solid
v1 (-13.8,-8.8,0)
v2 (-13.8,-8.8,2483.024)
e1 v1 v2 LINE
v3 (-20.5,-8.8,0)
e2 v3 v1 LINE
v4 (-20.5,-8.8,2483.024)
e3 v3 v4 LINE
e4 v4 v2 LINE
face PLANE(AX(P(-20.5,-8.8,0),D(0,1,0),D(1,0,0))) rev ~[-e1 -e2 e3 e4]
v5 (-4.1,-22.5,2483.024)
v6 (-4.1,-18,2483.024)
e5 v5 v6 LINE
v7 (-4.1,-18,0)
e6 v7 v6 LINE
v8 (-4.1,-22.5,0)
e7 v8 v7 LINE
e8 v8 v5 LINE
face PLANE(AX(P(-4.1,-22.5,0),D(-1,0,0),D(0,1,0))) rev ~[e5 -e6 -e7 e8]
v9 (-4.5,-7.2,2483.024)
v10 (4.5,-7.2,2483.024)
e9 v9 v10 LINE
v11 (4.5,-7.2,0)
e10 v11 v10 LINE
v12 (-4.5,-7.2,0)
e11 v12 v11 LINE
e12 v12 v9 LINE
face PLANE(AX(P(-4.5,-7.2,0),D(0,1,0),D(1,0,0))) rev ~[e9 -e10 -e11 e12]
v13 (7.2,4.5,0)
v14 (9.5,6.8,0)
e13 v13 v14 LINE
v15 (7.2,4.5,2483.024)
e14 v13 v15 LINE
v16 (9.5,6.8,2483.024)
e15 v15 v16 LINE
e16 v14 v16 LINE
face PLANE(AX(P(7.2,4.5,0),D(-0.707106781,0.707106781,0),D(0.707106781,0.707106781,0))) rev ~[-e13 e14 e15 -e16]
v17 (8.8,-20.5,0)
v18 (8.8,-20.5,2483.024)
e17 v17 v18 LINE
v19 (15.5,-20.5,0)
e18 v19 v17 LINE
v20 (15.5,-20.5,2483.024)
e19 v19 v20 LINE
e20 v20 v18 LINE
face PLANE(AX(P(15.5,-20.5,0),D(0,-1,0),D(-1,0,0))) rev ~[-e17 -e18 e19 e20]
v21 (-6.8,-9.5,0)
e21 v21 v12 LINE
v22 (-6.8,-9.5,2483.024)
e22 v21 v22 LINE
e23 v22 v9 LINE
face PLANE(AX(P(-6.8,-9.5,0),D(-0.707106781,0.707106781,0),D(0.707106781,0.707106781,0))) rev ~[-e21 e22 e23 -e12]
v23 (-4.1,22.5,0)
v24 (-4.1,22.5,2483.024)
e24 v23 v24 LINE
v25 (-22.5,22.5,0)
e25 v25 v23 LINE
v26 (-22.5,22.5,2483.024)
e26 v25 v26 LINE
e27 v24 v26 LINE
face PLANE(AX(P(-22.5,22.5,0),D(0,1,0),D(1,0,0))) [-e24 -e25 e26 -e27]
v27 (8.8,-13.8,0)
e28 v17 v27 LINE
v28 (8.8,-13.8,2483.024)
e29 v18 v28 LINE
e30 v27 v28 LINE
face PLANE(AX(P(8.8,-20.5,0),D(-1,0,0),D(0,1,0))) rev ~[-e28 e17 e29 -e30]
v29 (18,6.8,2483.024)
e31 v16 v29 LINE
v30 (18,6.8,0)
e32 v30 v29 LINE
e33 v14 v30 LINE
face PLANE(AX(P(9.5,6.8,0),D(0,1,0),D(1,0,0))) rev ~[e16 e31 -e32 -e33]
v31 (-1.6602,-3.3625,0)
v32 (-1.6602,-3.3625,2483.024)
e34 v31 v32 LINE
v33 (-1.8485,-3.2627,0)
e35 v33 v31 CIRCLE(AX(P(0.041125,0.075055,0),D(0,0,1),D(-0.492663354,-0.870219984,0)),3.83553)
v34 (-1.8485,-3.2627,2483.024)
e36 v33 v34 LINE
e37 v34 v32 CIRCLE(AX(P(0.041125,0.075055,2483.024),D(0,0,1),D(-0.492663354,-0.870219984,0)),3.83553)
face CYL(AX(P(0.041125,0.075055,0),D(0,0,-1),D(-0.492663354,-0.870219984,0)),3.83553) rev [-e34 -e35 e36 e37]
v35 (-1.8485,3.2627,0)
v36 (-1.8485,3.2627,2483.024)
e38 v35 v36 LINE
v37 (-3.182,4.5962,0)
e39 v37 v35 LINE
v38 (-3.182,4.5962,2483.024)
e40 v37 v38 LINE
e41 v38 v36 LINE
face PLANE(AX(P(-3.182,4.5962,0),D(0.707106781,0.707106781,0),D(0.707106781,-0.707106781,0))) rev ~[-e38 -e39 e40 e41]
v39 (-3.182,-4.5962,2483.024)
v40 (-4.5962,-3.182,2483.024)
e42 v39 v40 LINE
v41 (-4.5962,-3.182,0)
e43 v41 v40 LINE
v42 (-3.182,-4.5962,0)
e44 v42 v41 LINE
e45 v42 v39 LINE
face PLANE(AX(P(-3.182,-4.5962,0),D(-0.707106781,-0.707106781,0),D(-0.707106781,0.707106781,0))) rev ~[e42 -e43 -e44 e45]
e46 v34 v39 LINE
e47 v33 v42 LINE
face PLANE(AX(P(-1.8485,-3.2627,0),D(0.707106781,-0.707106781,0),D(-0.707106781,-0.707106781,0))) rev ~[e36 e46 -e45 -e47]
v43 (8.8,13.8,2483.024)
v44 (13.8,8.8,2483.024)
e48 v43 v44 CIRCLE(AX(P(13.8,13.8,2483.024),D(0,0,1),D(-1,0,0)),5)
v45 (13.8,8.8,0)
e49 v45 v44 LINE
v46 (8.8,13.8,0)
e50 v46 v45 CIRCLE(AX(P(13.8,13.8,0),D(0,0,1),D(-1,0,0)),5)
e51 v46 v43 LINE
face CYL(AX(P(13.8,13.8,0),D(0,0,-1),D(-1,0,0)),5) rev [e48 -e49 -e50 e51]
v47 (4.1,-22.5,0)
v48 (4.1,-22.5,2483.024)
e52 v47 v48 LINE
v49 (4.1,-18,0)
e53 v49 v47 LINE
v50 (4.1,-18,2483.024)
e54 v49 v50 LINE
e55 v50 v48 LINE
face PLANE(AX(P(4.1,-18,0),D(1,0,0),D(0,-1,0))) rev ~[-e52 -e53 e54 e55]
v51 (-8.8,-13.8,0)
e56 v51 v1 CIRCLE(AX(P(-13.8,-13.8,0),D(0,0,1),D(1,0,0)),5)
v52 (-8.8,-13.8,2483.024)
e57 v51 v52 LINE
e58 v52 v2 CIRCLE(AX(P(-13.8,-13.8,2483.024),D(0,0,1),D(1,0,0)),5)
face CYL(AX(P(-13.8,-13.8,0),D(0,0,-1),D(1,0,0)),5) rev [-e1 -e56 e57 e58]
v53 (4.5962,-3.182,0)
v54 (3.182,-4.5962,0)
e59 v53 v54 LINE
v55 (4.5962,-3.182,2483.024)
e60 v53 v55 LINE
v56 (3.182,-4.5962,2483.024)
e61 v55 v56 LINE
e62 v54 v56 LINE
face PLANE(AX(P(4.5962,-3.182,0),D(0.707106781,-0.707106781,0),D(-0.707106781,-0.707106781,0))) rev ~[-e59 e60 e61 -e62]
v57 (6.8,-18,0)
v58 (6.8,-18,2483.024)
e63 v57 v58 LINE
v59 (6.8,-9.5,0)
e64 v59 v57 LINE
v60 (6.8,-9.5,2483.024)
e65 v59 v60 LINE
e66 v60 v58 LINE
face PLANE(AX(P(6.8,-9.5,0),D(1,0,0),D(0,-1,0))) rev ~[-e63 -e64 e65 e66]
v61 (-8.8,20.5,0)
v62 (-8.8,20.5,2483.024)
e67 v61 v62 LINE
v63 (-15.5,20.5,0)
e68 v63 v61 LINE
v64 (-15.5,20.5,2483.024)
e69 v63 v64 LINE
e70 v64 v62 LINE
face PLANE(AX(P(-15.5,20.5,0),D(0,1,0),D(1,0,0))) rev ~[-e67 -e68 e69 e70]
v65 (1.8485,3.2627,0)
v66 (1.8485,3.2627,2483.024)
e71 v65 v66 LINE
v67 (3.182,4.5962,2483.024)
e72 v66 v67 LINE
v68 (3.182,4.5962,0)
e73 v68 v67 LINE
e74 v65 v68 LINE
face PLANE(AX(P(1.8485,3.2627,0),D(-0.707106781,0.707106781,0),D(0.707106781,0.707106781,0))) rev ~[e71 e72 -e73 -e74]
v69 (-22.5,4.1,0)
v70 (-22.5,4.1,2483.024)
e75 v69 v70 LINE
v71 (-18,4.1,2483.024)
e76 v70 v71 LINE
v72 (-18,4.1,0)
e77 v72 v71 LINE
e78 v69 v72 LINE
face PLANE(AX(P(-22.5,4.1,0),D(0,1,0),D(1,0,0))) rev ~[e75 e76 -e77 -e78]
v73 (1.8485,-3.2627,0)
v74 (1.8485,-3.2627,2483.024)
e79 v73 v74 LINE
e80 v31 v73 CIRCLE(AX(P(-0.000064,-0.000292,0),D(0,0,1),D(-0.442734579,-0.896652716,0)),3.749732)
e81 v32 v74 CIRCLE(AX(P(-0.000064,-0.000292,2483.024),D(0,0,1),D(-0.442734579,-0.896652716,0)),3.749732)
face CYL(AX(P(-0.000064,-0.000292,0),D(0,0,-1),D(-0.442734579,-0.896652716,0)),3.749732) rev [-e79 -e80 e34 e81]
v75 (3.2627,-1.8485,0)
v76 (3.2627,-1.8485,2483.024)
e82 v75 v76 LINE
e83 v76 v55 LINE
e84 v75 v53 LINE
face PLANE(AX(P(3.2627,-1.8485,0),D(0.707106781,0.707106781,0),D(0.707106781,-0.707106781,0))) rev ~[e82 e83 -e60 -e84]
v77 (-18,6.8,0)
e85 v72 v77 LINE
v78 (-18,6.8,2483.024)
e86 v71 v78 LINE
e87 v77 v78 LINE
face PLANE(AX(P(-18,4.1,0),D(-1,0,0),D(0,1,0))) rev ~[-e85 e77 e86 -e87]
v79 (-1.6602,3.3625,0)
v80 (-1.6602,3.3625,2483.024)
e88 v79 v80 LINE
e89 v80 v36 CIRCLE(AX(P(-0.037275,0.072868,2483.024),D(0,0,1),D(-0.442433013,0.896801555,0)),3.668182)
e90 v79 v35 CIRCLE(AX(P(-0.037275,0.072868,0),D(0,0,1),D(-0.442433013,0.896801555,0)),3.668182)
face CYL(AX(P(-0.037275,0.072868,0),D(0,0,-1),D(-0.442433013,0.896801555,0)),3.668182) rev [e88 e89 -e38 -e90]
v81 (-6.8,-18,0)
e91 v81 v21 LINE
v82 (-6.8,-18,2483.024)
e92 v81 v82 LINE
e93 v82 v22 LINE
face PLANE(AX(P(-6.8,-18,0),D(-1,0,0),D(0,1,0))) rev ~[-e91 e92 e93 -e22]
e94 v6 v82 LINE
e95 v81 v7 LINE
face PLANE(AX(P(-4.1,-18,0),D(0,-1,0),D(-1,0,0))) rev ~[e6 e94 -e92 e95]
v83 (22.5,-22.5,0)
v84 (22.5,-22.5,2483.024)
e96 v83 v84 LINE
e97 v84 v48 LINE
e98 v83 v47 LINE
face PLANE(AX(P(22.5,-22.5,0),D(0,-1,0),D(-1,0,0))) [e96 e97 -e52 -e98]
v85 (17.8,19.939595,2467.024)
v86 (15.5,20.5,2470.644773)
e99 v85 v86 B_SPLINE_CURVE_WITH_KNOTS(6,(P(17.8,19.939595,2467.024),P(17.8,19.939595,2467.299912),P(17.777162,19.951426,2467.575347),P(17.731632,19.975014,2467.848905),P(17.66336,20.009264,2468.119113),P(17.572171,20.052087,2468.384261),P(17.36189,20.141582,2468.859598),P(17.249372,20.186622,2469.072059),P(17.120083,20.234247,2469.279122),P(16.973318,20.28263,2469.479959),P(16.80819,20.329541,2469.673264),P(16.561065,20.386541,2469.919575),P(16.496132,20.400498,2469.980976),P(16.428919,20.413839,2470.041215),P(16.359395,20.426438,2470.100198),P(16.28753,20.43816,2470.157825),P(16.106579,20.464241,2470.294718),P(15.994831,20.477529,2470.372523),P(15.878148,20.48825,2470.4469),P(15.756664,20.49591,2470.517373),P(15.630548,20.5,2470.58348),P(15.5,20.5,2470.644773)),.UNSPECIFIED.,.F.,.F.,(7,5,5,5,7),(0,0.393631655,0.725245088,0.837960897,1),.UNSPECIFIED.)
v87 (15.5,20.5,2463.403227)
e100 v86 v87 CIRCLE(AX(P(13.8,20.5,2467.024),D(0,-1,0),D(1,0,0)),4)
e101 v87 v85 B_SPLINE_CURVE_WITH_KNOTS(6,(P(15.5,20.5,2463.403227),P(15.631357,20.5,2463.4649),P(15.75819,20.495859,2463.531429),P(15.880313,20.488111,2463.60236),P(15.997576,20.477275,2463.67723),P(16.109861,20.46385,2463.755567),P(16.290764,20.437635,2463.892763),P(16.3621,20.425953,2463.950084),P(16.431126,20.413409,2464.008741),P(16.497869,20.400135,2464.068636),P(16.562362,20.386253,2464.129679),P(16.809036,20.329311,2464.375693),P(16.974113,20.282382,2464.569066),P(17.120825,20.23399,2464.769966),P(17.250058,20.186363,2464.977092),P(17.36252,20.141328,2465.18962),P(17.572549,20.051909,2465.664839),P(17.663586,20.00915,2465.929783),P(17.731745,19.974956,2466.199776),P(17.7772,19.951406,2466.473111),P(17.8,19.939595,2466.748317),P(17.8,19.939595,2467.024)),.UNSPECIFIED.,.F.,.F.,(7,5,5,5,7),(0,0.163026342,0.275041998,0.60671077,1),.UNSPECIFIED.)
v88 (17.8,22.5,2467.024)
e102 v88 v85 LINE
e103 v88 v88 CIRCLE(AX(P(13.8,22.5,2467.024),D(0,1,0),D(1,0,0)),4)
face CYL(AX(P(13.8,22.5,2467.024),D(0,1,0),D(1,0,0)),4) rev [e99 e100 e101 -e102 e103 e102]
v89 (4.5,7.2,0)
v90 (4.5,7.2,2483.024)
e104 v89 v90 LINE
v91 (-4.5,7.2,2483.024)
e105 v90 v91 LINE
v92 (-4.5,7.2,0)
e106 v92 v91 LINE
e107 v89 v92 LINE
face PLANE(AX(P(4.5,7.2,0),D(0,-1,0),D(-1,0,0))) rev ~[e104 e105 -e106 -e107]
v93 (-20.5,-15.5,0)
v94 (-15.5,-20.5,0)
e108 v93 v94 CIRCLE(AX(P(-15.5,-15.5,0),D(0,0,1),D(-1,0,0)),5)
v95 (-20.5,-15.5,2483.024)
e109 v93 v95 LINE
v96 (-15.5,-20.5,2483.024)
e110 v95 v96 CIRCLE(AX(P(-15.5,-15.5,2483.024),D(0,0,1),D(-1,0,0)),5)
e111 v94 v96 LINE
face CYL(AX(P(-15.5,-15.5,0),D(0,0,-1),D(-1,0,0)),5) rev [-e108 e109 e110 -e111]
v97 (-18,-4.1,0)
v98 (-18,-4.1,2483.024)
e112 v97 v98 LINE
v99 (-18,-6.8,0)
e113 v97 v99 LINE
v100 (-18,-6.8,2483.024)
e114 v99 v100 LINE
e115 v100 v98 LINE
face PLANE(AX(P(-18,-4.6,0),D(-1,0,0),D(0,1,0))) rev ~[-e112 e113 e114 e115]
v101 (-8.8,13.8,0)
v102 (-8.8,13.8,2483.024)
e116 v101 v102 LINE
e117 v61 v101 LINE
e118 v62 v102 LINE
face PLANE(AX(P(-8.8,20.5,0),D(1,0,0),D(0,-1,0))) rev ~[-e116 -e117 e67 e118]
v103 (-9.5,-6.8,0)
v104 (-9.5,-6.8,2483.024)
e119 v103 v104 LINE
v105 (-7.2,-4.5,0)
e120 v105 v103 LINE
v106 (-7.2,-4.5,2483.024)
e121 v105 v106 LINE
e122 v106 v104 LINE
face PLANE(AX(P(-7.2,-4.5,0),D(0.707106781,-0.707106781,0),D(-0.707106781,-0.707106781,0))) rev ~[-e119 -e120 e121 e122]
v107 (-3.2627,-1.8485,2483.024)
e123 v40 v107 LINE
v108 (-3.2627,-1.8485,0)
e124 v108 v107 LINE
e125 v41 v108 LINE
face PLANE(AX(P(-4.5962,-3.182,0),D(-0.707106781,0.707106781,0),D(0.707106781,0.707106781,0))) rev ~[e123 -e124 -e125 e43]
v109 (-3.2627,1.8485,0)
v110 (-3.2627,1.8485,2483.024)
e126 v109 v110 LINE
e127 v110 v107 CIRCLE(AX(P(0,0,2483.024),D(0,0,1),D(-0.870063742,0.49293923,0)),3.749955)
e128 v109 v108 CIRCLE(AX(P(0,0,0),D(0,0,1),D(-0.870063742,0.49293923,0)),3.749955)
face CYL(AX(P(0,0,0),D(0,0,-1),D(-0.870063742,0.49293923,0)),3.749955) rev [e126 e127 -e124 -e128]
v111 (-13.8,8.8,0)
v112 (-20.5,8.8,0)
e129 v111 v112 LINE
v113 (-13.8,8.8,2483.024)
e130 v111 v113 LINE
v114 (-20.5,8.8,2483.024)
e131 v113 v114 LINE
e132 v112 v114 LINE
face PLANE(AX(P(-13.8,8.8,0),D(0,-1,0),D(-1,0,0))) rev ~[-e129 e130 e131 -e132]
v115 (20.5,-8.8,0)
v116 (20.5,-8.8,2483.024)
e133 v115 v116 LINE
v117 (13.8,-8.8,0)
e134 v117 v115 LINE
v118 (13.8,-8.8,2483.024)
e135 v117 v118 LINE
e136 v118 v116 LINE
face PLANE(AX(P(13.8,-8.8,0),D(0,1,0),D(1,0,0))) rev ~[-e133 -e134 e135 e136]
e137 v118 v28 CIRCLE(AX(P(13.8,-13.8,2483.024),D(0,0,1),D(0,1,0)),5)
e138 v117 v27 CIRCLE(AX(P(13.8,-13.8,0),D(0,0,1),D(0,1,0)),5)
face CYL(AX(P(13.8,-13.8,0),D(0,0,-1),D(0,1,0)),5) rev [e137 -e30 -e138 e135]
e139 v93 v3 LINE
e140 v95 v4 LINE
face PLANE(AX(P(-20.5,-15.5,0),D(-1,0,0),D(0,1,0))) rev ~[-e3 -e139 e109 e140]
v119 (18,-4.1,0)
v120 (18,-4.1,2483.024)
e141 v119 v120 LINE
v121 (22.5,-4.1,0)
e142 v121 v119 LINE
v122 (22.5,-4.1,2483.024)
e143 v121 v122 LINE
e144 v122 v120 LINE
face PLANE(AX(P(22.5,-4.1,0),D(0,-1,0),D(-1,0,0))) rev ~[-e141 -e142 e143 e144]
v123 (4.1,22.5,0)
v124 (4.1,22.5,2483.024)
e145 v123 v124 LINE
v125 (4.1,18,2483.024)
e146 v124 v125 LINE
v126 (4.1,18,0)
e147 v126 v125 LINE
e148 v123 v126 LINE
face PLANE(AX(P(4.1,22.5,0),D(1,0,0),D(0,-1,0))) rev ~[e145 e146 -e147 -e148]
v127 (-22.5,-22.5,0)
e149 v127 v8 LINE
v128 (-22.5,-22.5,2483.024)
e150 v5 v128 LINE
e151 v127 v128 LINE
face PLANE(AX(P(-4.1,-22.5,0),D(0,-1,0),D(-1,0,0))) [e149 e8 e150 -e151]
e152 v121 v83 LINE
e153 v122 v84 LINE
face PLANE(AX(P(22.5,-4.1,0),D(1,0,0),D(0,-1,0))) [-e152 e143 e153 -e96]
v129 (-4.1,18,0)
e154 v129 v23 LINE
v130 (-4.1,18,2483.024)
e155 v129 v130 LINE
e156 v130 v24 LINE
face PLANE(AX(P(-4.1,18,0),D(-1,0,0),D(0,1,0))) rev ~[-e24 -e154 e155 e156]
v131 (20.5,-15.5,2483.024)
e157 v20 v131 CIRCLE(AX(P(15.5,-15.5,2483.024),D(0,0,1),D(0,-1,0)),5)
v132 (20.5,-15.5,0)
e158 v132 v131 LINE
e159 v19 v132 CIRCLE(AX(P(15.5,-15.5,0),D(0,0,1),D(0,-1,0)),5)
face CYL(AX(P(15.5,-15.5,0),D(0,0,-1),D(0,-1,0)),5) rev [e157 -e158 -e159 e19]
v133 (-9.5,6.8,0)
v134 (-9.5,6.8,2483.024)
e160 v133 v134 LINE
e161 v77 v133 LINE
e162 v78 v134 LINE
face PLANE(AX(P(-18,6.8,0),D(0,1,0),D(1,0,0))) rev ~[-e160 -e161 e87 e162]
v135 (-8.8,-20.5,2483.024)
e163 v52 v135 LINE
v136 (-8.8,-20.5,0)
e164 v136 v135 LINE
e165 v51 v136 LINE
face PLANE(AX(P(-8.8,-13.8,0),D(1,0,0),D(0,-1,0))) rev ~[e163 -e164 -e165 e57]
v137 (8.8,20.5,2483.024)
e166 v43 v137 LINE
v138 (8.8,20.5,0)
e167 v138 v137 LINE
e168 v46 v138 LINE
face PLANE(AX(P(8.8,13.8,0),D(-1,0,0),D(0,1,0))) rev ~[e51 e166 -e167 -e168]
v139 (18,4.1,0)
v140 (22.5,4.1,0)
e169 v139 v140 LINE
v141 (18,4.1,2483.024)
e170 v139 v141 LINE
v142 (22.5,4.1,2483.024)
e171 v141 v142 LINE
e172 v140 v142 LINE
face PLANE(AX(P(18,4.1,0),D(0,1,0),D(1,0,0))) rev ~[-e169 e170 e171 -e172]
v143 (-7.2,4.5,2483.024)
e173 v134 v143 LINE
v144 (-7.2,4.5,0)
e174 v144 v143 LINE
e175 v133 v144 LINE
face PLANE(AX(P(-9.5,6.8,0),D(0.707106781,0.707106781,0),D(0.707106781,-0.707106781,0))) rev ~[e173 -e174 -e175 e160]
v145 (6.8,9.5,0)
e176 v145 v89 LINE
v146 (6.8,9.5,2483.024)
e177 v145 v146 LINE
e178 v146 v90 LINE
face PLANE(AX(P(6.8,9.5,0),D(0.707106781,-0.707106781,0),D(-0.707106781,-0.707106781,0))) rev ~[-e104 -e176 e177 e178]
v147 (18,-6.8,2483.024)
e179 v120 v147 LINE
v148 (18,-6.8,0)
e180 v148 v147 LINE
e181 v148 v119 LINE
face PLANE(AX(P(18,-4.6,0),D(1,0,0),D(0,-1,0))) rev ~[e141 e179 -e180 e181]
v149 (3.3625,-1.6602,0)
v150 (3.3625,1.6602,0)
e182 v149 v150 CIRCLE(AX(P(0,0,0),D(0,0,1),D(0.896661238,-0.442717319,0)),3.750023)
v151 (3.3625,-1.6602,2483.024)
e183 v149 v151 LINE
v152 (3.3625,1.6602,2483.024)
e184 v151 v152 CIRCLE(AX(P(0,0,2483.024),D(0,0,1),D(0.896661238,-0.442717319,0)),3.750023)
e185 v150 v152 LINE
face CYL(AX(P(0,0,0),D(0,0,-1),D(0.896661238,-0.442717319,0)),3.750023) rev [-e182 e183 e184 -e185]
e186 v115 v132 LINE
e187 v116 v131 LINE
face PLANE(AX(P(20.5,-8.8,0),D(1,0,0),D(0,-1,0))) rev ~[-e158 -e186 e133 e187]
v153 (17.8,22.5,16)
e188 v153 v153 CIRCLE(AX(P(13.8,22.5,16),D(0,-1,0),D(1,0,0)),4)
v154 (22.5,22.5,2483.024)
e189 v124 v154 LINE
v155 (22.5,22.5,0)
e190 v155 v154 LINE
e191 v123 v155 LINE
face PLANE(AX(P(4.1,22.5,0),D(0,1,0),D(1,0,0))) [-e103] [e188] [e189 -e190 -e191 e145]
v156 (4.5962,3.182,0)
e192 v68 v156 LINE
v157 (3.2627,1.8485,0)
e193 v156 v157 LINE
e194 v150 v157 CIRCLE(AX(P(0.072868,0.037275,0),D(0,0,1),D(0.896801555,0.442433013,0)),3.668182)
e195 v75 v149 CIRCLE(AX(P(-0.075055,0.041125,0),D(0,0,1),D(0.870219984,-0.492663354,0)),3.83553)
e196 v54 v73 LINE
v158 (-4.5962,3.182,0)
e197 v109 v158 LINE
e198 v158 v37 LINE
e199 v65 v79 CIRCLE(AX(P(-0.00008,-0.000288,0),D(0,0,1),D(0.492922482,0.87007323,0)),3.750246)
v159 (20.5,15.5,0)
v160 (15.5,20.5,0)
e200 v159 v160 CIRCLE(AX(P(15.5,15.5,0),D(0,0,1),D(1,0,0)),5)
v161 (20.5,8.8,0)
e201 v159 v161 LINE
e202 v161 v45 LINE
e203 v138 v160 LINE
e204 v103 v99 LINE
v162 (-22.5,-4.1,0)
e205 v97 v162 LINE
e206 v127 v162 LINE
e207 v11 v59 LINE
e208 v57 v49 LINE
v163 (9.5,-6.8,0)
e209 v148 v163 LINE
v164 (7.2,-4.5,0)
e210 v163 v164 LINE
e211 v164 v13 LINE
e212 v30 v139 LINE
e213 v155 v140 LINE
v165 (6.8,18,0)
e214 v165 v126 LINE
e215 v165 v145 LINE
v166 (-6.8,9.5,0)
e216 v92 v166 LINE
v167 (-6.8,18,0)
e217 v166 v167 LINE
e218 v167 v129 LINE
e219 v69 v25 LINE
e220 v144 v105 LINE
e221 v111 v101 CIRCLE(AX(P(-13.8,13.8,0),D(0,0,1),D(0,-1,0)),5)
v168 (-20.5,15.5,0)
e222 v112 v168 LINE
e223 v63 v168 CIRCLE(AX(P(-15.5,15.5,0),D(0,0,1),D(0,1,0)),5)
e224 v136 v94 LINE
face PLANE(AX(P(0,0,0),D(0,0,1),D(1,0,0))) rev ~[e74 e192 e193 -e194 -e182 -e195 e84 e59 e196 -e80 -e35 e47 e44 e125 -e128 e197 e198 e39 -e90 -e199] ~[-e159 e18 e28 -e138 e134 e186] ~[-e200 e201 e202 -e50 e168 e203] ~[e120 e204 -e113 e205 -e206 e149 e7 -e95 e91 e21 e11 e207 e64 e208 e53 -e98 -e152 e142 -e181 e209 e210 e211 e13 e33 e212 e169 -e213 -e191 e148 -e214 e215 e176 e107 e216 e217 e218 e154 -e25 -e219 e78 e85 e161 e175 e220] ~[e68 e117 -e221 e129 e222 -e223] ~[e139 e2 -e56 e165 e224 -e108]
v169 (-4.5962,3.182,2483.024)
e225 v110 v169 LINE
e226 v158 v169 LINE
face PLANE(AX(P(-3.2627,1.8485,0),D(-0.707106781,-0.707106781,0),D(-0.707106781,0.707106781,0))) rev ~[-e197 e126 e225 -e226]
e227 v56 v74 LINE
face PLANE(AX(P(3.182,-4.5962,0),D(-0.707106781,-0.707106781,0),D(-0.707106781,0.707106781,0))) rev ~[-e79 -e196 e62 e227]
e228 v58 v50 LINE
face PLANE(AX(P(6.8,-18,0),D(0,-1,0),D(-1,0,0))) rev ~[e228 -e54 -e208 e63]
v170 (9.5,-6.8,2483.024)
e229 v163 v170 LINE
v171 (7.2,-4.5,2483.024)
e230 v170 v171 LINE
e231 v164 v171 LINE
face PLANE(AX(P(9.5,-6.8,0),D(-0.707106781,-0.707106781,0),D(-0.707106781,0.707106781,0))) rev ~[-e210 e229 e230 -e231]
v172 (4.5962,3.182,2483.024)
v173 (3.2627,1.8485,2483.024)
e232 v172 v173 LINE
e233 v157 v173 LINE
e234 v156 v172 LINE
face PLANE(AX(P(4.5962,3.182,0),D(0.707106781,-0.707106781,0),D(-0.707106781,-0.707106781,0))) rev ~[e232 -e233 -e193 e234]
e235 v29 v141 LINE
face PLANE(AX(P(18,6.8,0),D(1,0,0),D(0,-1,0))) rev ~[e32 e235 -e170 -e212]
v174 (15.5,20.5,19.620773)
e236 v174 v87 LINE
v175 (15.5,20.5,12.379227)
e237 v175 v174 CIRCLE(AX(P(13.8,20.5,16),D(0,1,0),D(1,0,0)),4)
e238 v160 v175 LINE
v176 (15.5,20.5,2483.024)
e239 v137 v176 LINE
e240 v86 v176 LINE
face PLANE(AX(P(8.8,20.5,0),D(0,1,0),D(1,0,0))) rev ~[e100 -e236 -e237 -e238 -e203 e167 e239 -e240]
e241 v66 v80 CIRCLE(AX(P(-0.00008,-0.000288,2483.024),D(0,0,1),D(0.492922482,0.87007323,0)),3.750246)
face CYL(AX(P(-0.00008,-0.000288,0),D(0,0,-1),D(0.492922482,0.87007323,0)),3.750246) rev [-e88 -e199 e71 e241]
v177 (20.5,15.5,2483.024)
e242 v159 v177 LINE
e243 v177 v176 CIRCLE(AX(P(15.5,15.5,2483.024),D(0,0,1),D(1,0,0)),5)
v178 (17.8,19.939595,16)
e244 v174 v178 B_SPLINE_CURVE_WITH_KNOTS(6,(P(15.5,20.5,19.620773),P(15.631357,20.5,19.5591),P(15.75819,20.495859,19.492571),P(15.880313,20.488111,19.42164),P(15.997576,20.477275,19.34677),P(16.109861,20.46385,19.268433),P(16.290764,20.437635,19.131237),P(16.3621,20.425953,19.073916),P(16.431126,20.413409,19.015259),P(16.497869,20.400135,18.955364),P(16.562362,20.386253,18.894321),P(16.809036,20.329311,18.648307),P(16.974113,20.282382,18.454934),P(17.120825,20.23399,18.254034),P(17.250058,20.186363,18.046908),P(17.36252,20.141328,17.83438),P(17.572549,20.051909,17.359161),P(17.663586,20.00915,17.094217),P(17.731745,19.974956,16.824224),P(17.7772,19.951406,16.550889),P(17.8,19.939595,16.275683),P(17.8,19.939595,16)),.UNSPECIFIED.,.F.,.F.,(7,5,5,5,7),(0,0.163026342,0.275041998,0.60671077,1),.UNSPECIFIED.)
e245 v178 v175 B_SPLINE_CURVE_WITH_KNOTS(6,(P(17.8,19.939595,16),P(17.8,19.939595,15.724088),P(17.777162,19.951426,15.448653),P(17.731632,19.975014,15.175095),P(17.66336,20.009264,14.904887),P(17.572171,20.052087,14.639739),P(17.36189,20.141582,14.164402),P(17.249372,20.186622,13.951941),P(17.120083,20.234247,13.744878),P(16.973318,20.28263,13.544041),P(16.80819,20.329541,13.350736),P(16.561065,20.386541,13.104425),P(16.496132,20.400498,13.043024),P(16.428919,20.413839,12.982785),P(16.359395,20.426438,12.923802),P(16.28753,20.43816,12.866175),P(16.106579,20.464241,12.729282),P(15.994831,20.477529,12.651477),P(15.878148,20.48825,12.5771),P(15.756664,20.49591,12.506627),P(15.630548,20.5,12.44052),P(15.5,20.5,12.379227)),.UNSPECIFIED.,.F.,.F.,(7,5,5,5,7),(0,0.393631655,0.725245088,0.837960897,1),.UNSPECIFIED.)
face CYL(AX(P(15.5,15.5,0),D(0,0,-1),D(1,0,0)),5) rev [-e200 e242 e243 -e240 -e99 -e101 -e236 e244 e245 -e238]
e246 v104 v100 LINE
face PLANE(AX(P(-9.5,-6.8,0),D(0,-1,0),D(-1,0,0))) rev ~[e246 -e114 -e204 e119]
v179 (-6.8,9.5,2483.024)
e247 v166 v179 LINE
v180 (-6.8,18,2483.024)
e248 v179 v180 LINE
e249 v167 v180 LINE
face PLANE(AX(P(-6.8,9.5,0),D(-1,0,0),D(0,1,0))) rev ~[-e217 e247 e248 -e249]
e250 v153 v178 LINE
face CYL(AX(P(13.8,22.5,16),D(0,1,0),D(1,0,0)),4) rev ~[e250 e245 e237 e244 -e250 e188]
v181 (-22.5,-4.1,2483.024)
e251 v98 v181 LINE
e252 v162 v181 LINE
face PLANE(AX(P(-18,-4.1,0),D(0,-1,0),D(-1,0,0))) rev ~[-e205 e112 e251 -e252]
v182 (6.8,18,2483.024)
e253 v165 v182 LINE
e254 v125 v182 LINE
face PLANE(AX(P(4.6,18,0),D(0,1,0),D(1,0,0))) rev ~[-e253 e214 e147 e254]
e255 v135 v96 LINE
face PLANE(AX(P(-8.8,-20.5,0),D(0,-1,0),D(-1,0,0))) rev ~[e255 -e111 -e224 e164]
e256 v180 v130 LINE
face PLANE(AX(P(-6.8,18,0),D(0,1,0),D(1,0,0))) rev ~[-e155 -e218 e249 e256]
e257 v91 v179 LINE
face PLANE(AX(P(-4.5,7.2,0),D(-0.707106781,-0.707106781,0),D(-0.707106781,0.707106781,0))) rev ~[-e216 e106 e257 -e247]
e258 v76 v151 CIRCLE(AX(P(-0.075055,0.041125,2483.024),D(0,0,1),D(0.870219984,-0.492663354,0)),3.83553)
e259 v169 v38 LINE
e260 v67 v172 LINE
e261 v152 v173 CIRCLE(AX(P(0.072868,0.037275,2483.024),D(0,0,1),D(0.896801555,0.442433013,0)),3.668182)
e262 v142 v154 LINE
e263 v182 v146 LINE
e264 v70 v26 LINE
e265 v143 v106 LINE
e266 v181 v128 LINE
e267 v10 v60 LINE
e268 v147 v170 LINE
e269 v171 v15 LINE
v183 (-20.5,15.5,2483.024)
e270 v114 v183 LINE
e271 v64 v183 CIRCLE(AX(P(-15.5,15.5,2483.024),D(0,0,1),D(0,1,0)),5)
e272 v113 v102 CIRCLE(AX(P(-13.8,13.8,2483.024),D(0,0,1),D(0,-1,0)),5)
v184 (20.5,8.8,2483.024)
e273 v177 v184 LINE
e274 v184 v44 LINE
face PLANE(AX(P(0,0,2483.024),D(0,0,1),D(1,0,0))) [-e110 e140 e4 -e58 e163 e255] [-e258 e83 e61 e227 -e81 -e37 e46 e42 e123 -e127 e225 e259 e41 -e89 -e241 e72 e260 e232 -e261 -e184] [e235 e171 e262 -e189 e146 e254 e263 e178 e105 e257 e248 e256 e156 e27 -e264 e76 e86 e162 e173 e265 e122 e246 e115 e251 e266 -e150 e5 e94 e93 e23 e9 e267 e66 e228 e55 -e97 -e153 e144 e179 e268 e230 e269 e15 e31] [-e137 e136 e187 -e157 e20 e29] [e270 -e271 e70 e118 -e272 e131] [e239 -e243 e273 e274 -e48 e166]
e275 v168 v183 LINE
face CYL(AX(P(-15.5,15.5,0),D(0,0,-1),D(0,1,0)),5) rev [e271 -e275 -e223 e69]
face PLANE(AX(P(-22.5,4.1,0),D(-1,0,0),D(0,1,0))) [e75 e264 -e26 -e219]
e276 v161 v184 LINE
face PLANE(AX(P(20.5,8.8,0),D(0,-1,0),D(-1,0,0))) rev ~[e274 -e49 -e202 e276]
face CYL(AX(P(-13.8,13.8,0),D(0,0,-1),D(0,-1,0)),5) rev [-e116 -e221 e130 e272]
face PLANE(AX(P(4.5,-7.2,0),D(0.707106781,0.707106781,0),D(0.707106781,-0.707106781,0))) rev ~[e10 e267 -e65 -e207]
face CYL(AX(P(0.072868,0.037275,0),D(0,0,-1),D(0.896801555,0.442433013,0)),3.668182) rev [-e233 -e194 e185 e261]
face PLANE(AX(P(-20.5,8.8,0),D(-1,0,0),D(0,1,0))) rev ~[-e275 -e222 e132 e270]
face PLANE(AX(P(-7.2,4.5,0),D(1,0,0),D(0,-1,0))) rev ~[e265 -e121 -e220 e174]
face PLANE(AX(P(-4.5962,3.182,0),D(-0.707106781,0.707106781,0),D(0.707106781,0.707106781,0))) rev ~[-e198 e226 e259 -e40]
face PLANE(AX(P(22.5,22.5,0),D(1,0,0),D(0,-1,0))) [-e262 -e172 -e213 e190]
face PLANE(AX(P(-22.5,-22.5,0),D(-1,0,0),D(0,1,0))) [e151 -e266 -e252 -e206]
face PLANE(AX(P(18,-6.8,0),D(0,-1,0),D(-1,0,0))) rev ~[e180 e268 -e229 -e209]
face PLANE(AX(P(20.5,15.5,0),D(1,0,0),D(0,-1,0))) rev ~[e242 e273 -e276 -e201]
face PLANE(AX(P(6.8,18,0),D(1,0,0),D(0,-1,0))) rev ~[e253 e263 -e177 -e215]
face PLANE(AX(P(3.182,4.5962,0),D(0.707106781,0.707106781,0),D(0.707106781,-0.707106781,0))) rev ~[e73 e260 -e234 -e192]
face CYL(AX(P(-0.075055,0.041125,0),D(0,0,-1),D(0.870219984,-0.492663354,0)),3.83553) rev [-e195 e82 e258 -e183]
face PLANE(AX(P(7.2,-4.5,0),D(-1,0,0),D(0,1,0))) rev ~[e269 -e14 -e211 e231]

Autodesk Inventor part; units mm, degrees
ref_plane "YZ Plane" through (0, 0, 0) normal (1, 0, 0) x (0, 1, 0)
ref_plane "XZ Plane" through (0, 0, 0) normal (0, 1, 0) x (-1, 0, 0)
ref_plane "XY Plane" through (0, 0, 0) normal (0, 0, 1) x (1, 0, 0)
sketch "Sketch1" plane through (0, 0, 0) normal (0, 0, 1) x (1, 0, 0)
  line L0 (-4.1, -22.5) -> (-4.1, -18)
  line L1 (-4.6, -18) -> (-6.8, -18)
  line L2 (-6.8, -18) -> (-6.8, -9.5)
  line L3 (-6.8, -9.5) -> (-4.5, -7.2)
  line L4 (-4.5, -7.2) -> (4.5, -7.2)
  line L5 (4.5, -7.2) -> (6.8, -9.5)
  line L6 (6.8, -9.5) -> (6.8, -18)
  line L7 (4.1, -18) -> (4.1, -22.5)
  line L8 (22.5, -4.1) -> (18, -4.1)
  line L9 (18, -4.6) -> (18, -6.8)
  line L10 (18, -6.8) -> (9.5, -6.8)
  line L11 (9.5, -6.8) -> (7.2, -4.5)
  line L12 (7.2, -4.5) -> (7.2, 4.5)
  line L13 (7.2, 4.5) -> (9.5, 6.8)
  line L14 (9.5, 6.8) -> (18, 6.8)
  line L15 (18, 4.1) -> (22.5, 4.1)
  line L16 (22.5, 22.5) -> (22.5, 4.4)
  line L17 (4.1, 22.5) -> (4.1, 18)
  line L18 (4.6, 18) -> (6.8, 18)
  line L19 (6.8, 18) -> (6.8, 9.5)
  line L20 (6.8, 9.5) -> (4.5, 7.2)
  line L21 (4.5, 7.2) -> (-4.5, 7.2)
  line L22 (-4.5, 7.2) -> (-6.8, 9.5)
  line L23 (-6.8, 9.5) -> (-6.8, 18)
  line L24 (-4.1, 18) -> (-4.1, 22.5)
  line L25 (-22.5, 22.5) -> (-4.4, 22.5)
  line L26 (-22.5, 4.1) -> (-18, 4.1)
  line L27 (-18, 6.8) -> (-9.5, 6.8)
  line L28 (-9.5, 6.8) -> (-7.2, 4.5)
  line L29 (-7.2, 4.5) -> (-7.2, -4.5)
  line L30 (-7.2, -4.5) -> (-9.5, -6.8)
  line L31 (-9.5, -6.8) -> (-18, -6.8)
  line L32 (-18, -6.8) -> (-18, -4.6)
  line L33 (-18, -4.1) -> (-22.5, -4.1)
  line L34 (-22.5, -22.5) -> (-22.5, -4.4)
  line L35 (-4.4, -22.5) -> (-22.5, -22.5)
  line L36 (-4.5962, -3.182) -> (-3.2627, -1.8485)
  line L37 (-3.2627, 1.8485) -> (-4.5962, 3.182)
  line L38 (-4.5962, 3.182) -> (-3.182, 4.5962)
  line L39 (-3.182, 4.5962) -> (-1.8485, 3.2627)
  line L40 (1.8485, 3.2627) -> (3.182, 4.5962)
  line L41 (3.182, 4.5962) -> (4.5962, 3.182)
  line L42 (4.5962, 3.182) -> (3.2627, 1.8485)
  arc A0 (3.3625, -1.6602) -> (3.3625, 1.6602) centre (0, 0) ccw
  line L43 (3.2627, -1.8485) -> (4.5962, -3.182)
  line L44 (4.5962, -3.182) -> (3.182, -4.5962)
  line L45 (3.182, -4.5962) -> (1.8485, -3.2627)
  line L46 (-1.8485, -3.2627) -> (-3.182, -4.5962)
  line L47 (-3.182, -4.5962) -> (-4.5962, -3.182)
  arc A1 (13.8, -8.8) -> (8.8, -13.8) centre (13.8, -13.8) ccw
  line L48 (13.8, -8.8) -> (20.5, -8.8)
  line L49 (20.5, -8.8) -> (20.5, -15.5)
  arc A2 (15.5, -20.5) -> (20.5, -15.5) centre (15.5, -15.5) ccw
  line L50 (15.5, -20.5) -> (8.8, -20.5)
  line L51 (8.8, -20.5) -> (8.8, -13.8)
  arc A3 (8.8, 13.8) -> (13.8, 8.8) centre (13.8, 13.8) ccw
  line L52 (8.8, 13.8) -> (8.8, 20.5)
  line L53 (8.8, 20.5) -> (15.5, 20.5)
  arc A4 (20.5, 15.5) -> (15.5, 20.5) centre (15.5, 15.5) ccw
  line L54 (20.5, 15.5) -> (20.5, 8.8)
  line L55 (20.5, 8.8) -> (13.8, 8.8)
  arc A5 (-13.8, 8.8) -> (-8.8, 13.8) centre (-13.8, 13.8) ccw
  line L56 (-13.8, 8.8) -> (-20.5, 8.8)
  line L57 (-20.5, 8.8) -> (-20.5, 15.5)
  arc A6 (-15.5, 20.5) -> (-20.5, 15.5) centre (-15.5, 15.5) ccw
  line L58 (-15.5, 20.5) -> (-8.8, 20.5)
  line L59 (-8.8, 20.5) -> (-8.8, 13.8)
  arc A7 (-8.8, -13.8) -> (-13.8, -8.8) centre (-13.8, -13.8) ccw
  line L60 (-8.8, -13.8) -> (-8.8, -20.5)
  line L61 (-8.8, -20.5) -> (-15.5, -20.5)
  arc A8 (-20.5, -15.5) -> (-15.5, -20.5) centre (-15.5, -15.5) ccw
  line L62 (-20.5, -15.5) -> (-20.5, -8.8)
  line L63 (-20.5, -8.8) -> (-13.8, -8.8)
  line L64 (-6.8, 18) -> (-4.1, 18)
  line L65 (4.1, 18) -> (4.6, 18)
  line L66 (-4.4, 22.5) -> (-4.1, 22.5)
  line L67 (4.1, 22.5) -> (22.5, 22.5)
  arc A9 (3.3625, 1.6602) -> (3.2627, 1.8485) centre (0, 0) ccw
  arc A10 (1.8485, 3.2627) -> (-1.6602, 3.3625) centre (0, 0) ccw
  arc A11 (-1.6602, 3.3625) -> (-1.8485, 3.2627) centre (0, 0) ccw
  arc A12 (-3.2627, 1.8485) -> (-3.2627, -1.8485) centre (0, 0) ccw
  arc A13 (-1.8485, -3.2627) -> (-1.6602, -3.3625) centre (0, 0) ccw
  arc A14 (-1.6602, -3.3625) -> (1.8485, -3.2627) centre (0, 0) ccw
  arc A15 (3.2627, -1.8485) -> (3.3625, -1.6602) centre (0, 0) ccw
  line L68 (18, 6.8) -> (18, 4.1)
  line L69 (18, -4.1) -> (18, -4.6)
  line L70 (22.5, 4.4) -> (22.5, 4.1)
  line L71 (22.5, -4.1) -> (22.5, -22.5)
  line L72 (6.8, -18) -> (4.1, -18)
  line L73 (-4.1, -18) -> (-4.6, -18)
  line L74 (22.5, -22.5) -> (4.1, -22.5)
  line L75 (-4.1, -22.5) -> (-4.4, -22.5)
  line L76 (-22.5, -4.4) -> (-22.5, -4.1)
  line L77 (-22.5, 4.1) -> (-22.5, 22.5)
  line L78 (-18, -4.6) -> (-18, -4.1)
  line L79 (-18, 4.1) -> (-18, 6.8)
extrude "Extrusion1" add sketch "Sketch1" along normal blind 2483.024
sketch "Sketch2" plane through (4.1, 22.5, 2483.024) normal (0, 1, 0) x (1, 0, 0)
  line L0 (18.4, 2483.024) -> (18.4, 0) projected
  line L1 (0, 2483.024) -> (18.4, 2483.024) projected
  line L2 (9.7, 2483.024) -> (9.7, 0) projected
  circle A0 centre (9.7, 2467.024) radius 4
  point P0 (-4.1, 2483.024)
  dimension "d2" = 8
  dimension "d3" = 16
  dimension "d4" = 18.4
extrude "Extrusion2" cut sketch "Sketch2" against normal up to next
ref_plane "Work Plane1" through (0, 0, 1241.512) normal (0, 0, -1) x (-1, 0, 0)
mirror "Mirror1" about plane through (0, 0, 1241.512) normal (0, 0, -1) of "Extrusion2"
equation "\"d3\" = 2 * d2"
properties part number "ElectronicCase" material "Aluminum-6061"
